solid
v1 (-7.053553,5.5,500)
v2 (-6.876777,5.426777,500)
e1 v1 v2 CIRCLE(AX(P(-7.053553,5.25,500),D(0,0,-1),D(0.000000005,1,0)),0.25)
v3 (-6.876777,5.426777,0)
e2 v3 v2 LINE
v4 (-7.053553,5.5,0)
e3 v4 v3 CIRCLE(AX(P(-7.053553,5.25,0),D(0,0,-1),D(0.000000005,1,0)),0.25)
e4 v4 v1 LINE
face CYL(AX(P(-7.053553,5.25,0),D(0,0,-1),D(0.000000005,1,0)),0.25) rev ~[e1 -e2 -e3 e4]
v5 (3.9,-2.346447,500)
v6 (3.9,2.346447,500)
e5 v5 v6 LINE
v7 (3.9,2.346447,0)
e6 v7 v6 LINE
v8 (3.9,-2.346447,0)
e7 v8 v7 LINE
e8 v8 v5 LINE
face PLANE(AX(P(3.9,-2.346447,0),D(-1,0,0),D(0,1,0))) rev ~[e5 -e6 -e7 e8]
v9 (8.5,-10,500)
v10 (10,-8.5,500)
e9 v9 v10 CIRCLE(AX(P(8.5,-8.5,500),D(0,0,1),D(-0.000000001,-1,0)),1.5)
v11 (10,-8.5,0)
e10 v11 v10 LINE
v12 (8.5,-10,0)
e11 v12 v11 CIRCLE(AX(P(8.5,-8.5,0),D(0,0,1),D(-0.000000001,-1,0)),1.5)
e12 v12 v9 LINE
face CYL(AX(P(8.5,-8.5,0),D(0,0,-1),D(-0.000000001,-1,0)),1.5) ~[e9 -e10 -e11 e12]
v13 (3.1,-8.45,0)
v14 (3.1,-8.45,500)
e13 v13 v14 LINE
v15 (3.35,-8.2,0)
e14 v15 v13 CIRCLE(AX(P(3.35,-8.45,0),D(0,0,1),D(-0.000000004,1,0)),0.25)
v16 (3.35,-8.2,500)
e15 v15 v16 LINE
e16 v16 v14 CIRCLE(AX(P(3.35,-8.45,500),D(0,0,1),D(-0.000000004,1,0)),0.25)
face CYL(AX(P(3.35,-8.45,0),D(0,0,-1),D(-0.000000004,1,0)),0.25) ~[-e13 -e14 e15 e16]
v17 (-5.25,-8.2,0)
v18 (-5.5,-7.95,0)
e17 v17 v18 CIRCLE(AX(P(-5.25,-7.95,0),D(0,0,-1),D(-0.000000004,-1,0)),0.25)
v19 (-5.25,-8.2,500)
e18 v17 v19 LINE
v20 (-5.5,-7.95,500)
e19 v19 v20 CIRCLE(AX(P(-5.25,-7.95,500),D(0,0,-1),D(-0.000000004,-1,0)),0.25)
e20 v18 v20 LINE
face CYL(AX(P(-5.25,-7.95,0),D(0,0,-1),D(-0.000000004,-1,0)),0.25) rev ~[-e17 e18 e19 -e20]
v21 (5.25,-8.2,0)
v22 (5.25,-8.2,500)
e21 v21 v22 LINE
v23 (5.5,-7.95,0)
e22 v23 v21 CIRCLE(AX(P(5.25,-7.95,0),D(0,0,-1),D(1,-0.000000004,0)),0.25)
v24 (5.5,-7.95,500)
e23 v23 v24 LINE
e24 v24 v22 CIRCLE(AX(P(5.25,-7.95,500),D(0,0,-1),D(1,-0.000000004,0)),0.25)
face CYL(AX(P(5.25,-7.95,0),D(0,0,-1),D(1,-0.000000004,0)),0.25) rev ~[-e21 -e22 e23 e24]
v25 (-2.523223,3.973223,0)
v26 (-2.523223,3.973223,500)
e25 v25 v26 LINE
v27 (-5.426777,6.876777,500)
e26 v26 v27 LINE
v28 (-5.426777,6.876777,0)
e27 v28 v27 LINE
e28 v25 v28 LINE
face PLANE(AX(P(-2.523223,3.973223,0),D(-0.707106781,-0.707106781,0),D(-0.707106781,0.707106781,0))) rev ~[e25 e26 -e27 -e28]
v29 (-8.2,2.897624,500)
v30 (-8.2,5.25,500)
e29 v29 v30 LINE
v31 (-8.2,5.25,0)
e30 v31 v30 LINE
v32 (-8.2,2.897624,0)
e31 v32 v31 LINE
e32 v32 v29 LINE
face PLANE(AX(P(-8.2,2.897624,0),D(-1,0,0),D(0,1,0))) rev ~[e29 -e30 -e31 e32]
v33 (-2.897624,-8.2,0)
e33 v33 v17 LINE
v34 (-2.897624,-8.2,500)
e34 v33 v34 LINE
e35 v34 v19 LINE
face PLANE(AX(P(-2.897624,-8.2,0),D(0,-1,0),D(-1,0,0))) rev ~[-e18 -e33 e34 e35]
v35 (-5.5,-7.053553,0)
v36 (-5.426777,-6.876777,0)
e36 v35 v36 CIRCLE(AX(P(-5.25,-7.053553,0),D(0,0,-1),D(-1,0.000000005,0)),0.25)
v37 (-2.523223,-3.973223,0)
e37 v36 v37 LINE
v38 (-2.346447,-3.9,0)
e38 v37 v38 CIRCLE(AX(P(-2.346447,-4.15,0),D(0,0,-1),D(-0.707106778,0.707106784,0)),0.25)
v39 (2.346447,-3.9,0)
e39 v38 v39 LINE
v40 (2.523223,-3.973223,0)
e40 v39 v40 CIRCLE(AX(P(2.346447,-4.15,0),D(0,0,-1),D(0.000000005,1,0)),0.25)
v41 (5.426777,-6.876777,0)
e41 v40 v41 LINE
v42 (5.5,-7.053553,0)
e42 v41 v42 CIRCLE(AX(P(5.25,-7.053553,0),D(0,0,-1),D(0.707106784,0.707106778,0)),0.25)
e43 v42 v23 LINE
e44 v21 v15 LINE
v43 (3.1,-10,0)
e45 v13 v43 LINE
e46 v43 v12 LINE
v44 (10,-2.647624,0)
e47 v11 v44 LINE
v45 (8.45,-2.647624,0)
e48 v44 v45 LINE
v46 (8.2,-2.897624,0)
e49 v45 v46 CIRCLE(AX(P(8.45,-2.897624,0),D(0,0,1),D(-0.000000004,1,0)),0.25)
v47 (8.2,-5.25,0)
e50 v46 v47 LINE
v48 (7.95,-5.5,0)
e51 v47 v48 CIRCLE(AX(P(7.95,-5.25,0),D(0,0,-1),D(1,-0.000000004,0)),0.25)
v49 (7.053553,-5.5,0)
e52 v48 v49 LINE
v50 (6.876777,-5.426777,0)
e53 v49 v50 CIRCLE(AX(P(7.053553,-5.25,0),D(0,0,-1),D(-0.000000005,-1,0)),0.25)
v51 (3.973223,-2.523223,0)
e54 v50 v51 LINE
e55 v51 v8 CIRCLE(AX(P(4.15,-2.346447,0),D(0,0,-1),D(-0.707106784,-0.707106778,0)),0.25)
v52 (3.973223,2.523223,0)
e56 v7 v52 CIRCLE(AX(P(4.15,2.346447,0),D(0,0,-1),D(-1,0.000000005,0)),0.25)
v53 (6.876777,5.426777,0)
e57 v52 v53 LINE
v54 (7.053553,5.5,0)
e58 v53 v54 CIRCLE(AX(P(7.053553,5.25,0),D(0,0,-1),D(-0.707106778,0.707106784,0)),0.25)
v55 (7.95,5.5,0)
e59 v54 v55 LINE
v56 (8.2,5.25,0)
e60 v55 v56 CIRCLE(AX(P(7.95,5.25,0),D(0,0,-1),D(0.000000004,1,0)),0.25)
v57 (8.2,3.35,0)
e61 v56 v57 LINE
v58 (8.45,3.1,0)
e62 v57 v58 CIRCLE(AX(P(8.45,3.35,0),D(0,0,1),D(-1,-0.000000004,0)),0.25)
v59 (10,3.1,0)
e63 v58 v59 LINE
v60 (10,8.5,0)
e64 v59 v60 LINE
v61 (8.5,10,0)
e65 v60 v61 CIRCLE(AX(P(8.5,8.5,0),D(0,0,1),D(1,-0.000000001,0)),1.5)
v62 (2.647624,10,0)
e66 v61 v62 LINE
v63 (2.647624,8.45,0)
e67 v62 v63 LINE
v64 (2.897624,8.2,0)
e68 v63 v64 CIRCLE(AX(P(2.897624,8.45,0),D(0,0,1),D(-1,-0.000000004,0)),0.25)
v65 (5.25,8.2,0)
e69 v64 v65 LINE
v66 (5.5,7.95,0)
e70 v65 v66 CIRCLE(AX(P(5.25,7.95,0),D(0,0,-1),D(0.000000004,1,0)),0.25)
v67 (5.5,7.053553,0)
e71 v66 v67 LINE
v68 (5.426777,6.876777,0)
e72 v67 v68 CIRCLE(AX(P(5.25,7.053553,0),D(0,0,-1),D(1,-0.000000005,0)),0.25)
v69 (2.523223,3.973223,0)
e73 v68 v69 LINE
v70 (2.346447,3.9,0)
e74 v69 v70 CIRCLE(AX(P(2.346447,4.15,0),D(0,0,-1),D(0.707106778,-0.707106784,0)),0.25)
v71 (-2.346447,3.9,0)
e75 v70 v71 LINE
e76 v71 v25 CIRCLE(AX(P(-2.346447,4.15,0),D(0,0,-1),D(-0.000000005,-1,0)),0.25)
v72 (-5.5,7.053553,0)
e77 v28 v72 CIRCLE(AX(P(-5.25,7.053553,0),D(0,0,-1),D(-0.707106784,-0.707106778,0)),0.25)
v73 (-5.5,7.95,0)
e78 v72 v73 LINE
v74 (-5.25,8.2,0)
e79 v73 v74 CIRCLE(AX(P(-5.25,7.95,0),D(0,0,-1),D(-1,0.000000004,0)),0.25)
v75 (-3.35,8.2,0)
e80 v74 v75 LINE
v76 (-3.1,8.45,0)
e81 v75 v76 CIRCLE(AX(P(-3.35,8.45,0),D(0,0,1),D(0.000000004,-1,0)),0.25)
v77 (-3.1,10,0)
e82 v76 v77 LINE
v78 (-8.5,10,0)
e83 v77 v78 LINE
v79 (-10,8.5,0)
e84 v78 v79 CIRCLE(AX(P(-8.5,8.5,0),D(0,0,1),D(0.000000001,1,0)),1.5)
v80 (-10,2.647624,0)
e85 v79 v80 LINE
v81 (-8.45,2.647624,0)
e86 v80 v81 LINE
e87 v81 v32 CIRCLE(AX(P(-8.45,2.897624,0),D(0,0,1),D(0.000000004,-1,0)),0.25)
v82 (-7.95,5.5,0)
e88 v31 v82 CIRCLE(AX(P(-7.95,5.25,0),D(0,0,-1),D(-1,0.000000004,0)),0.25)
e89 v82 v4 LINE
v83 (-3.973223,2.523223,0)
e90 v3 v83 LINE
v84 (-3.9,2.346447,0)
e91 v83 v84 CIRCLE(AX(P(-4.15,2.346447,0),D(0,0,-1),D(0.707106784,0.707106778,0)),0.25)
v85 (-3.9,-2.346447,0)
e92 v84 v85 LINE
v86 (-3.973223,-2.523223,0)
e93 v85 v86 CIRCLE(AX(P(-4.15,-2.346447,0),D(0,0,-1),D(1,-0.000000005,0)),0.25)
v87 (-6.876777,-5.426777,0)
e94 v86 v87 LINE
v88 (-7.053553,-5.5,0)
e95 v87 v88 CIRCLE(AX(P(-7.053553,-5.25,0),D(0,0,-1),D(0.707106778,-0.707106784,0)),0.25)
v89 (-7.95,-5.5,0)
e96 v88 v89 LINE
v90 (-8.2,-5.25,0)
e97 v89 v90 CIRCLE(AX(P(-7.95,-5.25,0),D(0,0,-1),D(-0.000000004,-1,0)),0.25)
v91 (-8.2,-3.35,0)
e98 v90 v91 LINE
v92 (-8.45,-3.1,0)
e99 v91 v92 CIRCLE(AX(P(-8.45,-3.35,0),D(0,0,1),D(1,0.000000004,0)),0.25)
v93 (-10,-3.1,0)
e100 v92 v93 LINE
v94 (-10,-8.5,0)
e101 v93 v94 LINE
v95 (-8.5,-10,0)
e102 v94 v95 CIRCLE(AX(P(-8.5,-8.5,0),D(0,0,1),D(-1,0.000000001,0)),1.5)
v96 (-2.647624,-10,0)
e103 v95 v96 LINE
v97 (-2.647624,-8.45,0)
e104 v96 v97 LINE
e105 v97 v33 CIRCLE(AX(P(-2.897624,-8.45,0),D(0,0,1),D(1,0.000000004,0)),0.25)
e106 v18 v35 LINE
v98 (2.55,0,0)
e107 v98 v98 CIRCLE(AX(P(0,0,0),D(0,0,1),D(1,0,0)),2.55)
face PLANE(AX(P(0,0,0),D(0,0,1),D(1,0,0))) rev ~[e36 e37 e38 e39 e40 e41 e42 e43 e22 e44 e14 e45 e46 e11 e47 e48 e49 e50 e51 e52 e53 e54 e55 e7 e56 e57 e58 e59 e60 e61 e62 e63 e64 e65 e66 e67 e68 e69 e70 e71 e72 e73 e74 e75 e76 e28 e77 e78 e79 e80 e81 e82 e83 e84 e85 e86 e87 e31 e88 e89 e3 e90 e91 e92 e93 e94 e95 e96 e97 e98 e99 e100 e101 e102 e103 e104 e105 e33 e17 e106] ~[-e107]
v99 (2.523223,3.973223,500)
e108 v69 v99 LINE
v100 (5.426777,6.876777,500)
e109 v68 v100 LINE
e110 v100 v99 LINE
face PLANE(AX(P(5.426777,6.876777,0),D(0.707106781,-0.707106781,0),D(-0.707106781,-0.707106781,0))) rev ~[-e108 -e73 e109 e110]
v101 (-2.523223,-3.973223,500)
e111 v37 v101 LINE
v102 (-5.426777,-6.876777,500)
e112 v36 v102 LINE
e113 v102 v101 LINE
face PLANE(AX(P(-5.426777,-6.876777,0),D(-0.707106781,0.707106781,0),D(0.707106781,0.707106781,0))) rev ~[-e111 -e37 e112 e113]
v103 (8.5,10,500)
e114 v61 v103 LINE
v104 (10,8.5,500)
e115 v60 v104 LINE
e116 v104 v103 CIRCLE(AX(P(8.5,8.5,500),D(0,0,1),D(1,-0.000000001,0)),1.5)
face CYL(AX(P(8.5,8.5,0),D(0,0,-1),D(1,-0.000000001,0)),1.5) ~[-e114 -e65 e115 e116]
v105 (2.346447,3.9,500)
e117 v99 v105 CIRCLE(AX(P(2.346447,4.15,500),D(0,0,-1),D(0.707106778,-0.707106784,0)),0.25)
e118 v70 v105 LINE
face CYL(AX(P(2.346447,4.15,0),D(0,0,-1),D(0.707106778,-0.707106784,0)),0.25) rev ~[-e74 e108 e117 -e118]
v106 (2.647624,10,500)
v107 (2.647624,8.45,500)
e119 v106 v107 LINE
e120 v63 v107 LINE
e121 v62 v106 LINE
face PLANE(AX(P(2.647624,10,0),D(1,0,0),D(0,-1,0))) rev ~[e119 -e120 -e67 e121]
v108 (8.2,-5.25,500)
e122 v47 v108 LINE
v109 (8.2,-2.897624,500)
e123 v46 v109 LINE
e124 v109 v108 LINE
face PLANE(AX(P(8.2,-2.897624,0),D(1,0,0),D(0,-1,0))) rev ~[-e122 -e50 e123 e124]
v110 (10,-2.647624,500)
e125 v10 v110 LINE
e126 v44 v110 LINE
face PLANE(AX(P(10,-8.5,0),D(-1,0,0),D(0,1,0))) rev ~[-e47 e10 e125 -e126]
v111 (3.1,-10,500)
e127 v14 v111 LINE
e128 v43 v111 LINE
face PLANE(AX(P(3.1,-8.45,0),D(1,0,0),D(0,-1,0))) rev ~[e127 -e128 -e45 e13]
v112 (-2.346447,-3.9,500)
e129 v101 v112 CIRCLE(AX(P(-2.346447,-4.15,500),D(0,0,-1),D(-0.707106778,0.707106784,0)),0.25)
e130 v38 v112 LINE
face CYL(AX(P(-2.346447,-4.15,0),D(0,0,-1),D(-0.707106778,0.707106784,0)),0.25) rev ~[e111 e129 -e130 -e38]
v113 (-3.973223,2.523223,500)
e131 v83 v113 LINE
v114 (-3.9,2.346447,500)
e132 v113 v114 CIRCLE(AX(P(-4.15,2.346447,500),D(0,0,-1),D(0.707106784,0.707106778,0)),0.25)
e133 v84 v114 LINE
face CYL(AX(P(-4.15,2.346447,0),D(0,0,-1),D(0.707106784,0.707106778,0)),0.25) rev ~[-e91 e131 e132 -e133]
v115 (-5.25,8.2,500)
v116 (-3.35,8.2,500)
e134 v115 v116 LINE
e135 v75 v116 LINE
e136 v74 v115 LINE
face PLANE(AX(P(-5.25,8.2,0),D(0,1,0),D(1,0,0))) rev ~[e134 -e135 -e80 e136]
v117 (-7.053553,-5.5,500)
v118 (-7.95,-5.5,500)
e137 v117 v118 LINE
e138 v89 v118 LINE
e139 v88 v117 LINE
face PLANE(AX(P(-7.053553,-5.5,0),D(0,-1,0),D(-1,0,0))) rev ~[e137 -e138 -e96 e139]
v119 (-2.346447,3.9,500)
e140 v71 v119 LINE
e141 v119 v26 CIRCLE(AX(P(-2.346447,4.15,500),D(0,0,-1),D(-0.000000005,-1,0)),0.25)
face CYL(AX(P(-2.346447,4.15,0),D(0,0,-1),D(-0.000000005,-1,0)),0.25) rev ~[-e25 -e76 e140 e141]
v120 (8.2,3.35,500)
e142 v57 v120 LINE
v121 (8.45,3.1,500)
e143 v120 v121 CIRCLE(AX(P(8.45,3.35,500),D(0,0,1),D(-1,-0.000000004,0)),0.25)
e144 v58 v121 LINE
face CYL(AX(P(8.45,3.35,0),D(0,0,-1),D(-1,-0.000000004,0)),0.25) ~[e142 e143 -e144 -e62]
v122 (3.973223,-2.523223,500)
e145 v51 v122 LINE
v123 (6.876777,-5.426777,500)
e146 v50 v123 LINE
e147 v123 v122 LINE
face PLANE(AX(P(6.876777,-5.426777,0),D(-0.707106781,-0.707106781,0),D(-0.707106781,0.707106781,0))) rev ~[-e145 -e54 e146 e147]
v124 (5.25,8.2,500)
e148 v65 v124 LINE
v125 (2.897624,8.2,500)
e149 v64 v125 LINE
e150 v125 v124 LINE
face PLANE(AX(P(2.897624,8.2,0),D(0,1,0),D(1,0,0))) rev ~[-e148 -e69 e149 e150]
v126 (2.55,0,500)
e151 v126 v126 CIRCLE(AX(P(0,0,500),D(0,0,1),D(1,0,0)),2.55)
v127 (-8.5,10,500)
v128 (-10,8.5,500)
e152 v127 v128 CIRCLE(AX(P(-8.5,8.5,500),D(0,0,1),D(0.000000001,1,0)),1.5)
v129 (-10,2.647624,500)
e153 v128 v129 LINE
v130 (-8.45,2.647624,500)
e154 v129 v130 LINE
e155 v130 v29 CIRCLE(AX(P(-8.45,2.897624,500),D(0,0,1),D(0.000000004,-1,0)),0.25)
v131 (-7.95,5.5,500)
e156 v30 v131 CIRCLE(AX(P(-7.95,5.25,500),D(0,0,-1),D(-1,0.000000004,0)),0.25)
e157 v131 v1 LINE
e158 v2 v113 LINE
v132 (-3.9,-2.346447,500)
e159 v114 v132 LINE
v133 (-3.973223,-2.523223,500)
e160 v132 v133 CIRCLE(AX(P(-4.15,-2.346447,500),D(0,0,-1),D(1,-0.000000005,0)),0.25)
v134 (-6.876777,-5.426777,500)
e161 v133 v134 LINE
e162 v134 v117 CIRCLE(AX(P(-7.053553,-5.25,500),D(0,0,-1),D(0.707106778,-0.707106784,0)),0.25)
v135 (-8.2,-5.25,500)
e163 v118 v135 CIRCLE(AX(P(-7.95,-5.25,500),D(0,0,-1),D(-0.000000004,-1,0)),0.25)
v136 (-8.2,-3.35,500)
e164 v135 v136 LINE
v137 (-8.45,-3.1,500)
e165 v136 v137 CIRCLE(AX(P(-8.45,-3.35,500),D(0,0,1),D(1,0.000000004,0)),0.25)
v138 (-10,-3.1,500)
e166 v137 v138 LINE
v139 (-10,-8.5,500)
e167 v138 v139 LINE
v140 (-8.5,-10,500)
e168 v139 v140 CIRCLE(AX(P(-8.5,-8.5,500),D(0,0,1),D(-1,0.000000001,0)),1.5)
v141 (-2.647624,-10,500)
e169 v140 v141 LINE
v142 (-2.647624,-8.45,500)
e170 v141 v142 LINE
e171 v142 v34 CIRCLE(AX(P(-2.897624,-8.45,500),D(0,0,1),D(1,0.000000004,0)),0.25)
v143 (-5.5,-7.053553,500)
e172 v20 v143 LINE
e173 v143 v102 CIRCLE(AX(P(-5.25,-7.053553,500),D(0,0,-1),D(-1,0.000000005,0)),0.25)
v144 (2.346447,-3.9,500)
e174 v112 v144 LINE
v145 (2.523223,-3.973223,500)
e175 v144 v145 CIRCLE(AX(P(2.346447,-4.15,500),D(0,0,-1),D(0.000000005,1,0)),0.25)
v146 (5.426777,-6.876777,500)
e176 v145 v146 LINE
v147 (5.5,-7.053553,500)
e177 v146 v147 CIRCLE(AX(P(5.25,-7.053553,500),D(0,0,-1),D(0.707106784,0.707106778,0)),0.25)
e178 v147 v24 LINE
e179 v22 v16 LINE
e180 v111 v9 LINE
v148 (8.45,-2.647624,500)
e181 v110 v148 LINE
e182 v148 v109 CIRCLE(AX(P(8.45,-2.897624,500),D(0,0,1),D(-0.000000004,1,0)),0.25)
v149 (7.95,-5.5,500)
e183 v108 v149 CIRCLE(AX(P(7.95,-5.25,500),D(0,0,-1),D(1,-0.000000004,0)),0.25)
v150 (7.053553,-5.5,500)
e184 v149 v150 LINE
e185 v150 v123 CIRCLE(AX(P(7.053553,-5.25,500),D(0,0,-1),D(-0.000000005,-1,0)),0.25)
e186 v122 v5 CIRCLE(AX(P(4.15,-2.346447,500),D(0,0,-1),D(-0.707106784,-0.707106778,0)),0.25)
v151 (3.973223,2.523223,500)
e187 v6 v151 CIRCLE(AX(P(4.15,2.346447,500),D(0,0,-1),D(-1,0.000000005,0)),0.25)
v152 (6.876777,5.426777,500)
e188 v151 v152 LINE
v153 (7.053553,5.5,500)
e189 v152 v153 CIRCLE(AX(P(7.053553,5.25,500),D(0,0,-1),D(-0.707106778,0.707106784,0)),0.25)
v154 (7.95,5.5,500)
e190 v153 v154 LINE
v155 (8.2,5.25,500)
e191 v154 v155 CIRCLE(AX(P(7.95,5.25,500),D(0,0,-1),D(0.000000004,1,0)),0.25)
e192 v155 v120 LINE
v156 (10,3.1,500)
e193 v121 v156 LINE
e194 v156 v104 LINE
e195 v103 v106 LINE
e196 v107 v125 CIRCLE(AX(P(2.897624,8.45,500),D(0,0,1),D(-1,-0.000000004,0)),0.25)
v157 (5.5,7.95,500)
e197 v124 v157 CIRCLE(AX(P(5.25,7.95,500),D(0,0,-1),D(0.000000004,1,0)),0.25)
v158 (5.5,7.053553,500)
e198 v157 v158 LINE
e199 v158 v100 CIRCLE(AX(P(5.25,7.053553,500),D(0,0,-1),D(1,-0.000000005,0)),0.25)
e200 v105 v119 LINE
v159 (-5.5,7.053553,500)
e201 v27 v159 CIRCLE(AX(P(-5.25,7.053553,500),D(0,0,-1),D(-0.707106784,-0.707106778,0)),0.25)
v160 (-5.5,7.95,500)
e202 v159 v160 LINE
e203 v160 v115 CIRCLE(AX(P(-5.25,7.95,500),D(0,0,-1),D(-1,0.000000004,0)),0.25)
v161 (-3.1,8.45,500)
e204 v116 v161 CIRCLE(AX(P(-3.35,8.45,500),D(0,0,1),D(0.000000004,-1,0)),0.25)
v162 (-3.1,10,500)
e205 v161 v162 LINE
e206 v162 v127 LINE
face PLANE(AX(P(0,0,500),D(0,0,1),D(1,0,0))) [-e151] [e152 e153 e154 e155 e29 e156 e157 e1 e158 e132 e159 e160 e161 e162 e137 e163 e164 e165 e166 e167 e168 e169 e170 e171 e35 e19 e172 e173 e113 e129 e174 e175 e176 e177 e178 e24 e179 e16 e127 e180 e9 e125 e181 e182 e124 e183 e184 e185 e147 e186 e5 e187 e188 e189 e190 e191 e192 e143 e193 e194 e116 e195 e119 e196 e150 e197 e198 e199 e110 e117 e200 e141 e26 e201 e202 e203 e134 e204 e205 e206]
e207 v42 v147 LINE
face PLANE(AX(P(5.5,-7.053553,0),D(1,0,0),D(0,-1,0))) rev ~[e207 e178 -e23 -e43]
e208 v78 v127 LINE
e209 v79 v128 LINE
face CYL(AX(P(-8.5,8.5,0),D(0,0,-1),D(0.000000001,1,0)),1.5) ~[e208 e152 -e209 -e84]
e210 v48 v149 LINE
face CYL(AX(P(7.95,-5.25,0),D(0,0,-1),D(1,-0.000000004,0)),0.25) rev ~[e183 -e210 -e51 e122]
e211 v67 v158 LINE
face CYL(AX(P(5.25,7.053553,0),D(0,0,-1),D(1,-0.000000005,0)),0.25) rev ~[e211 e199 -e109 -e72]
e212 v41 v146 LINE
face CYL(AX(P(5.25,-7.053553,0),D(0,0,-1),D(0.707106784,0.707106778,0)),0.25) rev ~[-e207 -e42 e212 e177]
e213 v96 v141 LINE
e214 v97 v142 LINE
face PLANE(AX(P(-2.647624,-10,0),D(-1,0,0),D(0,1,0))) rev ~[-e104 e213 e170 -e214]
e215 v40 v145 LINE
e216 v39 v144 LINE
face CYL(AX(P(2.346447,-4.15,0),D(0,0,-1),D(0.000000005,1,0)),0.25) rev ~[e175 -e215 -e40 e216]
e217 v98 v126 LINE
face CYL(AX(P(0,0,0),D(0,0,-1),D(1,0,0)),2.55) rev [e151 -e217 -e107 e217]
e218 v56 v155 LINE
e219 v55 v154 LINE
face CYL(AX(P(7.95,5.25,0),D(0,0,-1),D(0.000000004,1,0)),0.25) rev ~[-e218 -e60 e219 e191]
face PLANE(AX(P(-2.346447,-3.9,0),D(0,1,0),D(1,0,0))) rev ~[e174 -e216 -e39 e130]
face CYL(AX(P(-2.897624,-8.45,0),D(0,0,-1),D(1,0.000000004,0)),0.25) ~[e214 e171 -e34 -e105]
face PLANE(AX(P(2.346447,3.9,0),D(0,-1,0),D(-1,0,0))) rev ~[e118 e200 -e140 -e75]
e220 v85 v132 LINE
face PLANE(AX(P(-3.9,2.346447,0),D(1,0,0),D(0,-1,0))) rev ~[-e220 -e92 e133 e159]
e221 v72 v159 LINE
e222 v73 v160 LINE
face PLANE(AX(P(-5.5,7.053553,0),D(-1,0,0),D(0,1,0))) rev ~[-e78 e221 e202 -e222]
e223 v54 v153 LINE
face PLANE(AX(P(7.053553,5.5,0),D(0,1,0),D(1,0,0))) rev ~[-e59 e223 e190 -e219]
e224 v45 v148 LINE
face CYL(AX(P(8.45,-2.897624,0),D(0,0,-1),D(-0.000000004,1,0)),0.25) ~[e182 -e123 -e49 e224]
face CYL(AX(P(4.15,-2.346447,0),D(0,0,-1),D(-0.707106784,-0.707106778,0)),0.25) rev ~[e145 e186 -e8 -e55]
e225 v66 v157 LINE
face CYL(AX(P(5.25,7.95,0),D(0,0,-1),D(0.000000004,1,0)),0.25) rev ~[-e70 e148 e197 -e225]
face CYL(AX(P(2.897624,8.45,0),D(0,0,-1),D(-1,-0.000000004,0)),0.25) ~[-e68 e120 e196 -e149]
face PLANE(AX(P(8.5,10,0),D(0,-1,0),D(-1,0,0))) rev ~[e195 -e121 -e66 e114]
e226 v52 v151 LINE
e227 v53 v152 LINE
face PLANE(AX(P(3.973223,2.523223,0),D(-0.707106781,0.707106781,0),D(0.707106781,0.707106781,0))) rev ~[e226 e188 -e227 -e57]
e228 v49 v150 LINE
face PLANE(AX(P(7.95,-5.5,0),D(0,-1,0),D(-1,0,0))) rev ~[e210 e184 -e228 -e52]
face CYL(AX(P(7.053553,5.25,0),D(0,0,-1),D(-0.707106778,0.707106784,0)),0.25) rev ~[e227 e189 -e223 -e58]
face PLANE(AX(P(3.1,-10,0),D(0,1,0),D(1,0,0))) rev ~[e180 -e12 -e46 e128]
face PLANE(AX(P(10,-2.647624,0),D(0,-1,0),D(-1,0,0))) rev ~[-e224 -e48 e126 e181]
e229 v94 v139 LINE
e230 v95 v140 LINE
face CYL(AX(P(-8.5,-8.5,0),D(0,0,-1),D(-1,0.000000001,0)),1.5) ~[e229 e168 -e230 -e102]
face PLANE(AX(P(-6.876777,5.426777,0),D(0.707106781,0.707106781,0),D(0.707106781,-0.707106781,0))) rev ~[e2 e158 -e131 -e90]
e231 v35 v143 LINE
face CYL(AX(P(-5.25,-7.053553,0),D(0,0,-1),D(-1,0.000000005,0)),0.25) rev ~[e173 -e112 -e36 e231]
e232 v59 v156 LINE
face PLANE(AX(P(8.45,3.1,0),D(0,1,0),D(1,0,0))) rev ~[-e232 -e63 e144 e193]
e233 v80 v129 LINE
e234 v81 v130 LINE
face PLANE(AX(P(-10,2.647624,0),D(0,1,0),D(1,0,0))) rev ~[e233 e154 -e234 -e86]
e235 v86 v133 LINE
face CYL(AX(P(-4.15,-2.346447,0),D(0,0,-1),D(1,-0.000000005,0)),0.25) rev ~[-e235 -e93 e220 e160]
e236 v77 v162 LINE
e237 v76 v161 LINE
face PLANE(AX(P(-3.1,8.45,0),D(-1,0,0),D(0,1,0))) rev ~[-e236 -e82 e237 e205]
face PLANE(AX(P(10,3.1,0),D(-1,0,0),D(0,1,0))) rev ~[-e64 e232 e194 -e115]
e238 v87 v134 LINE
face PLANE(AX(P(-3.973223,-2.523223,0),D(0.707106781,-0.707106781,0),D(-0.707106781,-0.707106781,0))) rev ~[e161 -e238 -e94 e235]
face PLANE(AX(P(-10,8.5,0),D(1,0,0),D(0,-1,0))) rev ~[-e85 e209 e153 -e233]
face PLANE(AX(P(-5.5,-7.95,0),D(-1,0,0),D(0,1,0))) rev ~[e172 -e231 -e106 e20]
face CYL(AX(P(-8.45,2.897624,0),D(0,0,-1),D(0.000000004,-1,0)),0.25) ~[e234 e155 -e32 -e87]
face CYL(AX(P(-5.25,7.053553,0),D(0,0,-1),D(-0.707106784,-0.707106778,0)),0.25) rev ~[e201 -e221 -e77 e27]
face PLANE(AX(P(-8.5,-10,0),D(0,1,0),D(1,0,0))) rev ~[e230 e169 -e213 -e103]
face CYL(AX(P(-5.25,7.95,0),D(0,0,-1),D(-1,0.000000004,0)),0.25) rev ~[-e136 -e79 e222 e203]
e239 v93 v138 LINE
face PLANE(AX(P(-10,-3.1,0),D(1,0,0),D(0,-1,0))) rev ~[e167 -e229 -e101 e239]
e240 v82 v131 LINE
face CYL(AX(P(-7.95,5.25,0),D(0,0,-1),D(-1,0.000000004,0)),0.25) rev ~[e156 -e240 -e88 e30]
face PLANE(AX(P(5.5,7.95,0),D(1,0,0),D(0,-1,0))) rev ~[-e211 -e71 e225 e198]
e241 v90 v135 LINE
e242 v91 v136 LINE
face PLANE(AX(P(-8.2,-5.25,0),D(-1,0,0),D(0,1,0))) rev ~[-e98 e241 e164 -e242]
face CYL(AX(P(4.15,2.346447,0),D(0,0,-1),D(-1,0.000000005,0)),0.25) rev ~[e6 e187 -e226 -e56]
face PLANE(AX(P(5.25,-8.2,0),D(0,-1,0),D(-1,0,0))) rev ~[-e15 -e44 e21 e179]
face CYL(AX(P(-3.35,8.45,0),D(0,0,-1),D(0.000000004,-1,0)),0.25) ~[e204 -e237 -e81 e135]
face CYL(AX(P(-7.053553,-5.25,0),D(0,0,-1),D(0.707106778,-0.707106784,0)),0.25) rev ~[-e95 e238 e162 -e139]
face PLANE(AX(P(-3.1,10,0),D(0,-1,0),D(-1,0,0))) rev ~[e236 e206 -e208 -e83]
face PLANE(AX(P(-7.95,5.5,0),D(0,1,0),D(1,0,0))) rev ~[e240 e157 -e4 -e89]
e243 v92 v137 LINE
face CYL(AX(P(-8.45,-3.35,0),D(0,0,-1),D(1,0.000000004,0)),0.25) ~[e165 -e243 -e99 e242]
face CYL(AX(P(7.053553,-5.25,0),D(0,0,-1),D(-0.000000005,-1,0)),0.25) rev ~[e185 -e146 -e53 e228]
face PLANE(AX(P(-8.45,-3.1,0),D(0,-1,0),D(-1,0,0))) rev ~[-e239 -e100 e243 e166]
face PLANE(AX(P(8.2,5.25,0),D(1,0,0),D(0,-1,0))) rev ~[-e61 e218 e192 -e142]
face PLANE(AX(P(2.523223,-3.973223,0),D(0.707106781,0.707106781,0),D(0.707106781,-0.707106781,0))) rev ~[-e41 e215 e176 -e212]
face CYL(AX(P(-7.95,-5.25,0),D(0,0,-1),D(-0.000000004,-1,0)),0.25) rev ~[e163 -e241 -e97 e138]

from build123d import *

# Parameters (mm, degrees)
SKETCH1_R           = 2.55
BOSS_EXTRUDE1_DEPTH = 500


with BuildPart() as part:
    # Sketch1 → Boss-Extrude1 (new body)
    with BuildSketch(Plane.XY):
        with BuildLine():
            Line((-8.5, -10), (-2.647623804, -10))
            Line((-2.647623804, -10), (-2.647623804, -8.45))
            ThreePointArc((-2.647623804, -8.45), (-2.720847109, -8.273223305), (-2.897623804, -8.2))
            Line((-2.897623804, -8.2), (-5.25, -8.2))
            ThreePointArc((-5.25, -8.2), (-5.426776695, -8.126776695), (-5.5, -7.95))
            Line((-5.5, -7.95), (-5.5, -7.053553391))
            ThreePointArc((-5.5, -7.053553391), (-5.480969883, -6.957882533), (-5.426776695, -6.876776695))
            Line((-5.426776695, -6.876776695), (-2.523223305, -3.973223305))
            ThreePointArc((-2.523223305, -3.973223305), (-2.442117467, -3.919030117), (-2.346446609, -3.9))
            Line((-2.346446609, -3.9), (2.346446609, -3.9))
            ThreePointArc((2.346446609, -3.9), (2.442117467, -3.919030117), (2.523223305, -3.973223305))
            Line((2.523223305, -3.973223305), (5.426776695, -6.876776695))
            ThreePointArc((5.426776695, -6.876776695), (5.480969883, -6.957882533), (5.5, -7.053553391))
            Line((5.5, -7.053553391), (5.5, -7.95))
            ThreePointArc((5.5, -7.95), (5.426776695, -8.126776695), (5.25, -8.2))
            Line((5.25, -8.2), (3.35, -8.2))
            ThreePointArc((3.35, -8.2), (3.173223305, -8.273223305), (3.1, -8.45))
            Line((3.1, -8.45), (3.1, -10))
            Line((3.1, -10), (8.5, -10))
            ThreePointArc((8.5, -10), (9.560660172, -9.560660172), (10, -8.5))
            Line((10, -8.5), (10, -2.647623804))
            Line((10, -2.647623804), (8.45, -2.647623804))
            ThreePointArc((8.45, -2.647623804), (8.273223305, -2.720847109), (8.2, -2.897623804))
            Line((8.2, -2.897623804), (8.2, -5.25))
            ThreePointArc((8.2, -5.25), (8.126776695, -5.426776695), (7.95, -5.5))
            Line((7.95, -5.5), (7.053553391, -5.5))
            ThreePointArc((7.053553391, -5.5), (6.957882533, -5.480969883), (6.876776695, -5.426776695))
            Line((6.876776695, -5.426776695), (3.973223305, -2.523223305))
            ThreePointArc((3.973223305, -2.523223305), (3.919030117, -2.442117467), (3.9, -2.346446609))
            Line((3.9, -2.346446609), (3.9, 2.346446609))
            ThreePointArc((3.9, 2.346446609), (3.919030117, 2.442117467), (3.973223305, 2.523223305))
            Line((3.973223305, 2.523223305), (6.876776695, 5.426776695))
            ThreePointArc((6.876776695, 5.426776695), (6.957882533, 5.480969883), (7.053553391, 5.5))
            Line((7.053553391, 5.5), (7.95, 5.5))
            ThreePointArc((7.95, 5.5), (8.126776695, 5.426776695), (8.2, 5.25))
            Line((8.2, 5.25), (8.2, 3.35))
            ThreePointArc((8.2, 3.35), (8.273223305, 3.173223305), (8.45, 3.1))
            Line((8.45, 3.1), (10, 3.1))
            Line((10, 3.1), (10, 8.5))
            ThreePointArc((10, 8.5), (9.560660172, 9.560660172), (8.5, 10))
            Line((8.5, 10), (2.647623804, 10))
            Line((2.647623804, 10), (2.647623804, 8.45))
            ThreePointArc((2.647623804, 8.45), (2.720847109, 8.273223305), (2.897623804, 8.2))
            Line((2.897623804, 8.2), (5.25, 8.2))
            ThreePointArc((5.25, 8.2), (5.426776695, 8.126776695), (5.5, 7.95))
            Line((5.5, 7.95), (5.5, 7.053553391))
            ThreePointArc((5.5, 7.053553391), (5.480969883, 6.957882533), (5.426776695, 6.876776695))
            Line((5.426776695, 6.876776695), (2.523223305, 3.973223305))
            ThreePointArc((2.523223305, 3.973223305), (2.442117467, 3.919030117), (2.346446609, 3.9))
            Line((2.346446609, 3.9), (-2.346446609, 3.9))
            ThreePointArc((-2.346446609, 3.9), (-2.442117467, 3.919030117), (-2.523223305, 3.973223305))
            Line((-2.523223305, 3.973223305), (-5.426776695, 6.876776695))
            ThreePointArc((-5.426776695, 6.876776695), (-5.480969883, 6.957882533), (-5.5, 7.053553391))
            Line((-5.5, 7.053553391), (-5.5, 7.95))
            ThreePointArc((-5.5, 7.95), (-5.426776695, 8.126776695), (-5.25, 8.2))
            Line((-5.25, 8.2), (-3.35, 8.2))
            ThreePointArc((-3.35, 8.2), (-3.173223305, 8.273223305), (-3.1, 8.45))
            Line((-3.1, 8.45), (-3.1, 10))
            Line((-3.1, 10), (-8.5, 10))
            ThreePointArc((-8.5, 10), (-9.560660172, 9.560660172), (-10, 8.5))
            Line((-10, 8.5), (-10, 2.647623804))
            Line((-10, 2.647623804), (-8.45, 2.647623804))
            ThreePointArc((-8.45, 2.647623804), (-8.273223305, 2.720847109), (-8.2, 2.897623804))
            Line((-8.2, 2.897623804), (-8.2, 5.25))
            ThreePointArc((-8.2, 5.25), (-8.126776695, 5.426776695), (-7.95, 5.5))
            Line((-7.95, 5.5), (-7.053553391, 5.5))
            ThreePointArc((-7.053553391, 5.5), (-6.957882533, 5.480969883), (-6.876776695, 5.426776695))
            Line((-6.876776695, 5.426776695), (-3.973223305, 2.523223305))
            ThreePointArc((-3.973223305, 2.523223305), (-3.919030117, 2.442117467), (-3.9, 2.346446609))
            Line((-3.9, 2.346446609), (-3.9, -2.346446609))
            ThreePointArc((-3.9, -2.346446609), (-3.919030117, -2.442117467), (-3.973223305, -2.523223305))
            Line((-3.973223305, -2.523223305), (-6.876776695, -5.426776695))
            ThreePointArc((-6.876776695, -5.426776695), (-6.957882533, -5.480969883), (-7.053553391, -5.5))
            Line((-7.053553391, -5.5), (-7.95, -5.5))
            ThreePointArc((-7.95, -5.5), (-8.126776695, -5.426776695), (-8.2, -5.25))
            Line((-8.2, -5.25), (-8.2, -3.35))
            ThreePointArc((-8.2, -3.35), (-8.273223305, -3.173223305), (-8.45, -3.1))
            Line((-8.45, -3.1), (-10, -3.1))
            Line((-10, -3.1), (-10, -8.5))
            ThreePointArc((-10, -8.5), (-9.560660172, -9.560660172), (-8.5, -10))
        make_face()
        Circle(SKETCH1_R, mode=Mode.SUBTRACT)
    extrude(amount=BOSS_EXTRUDE1_DEPTH)


solid = part.part
